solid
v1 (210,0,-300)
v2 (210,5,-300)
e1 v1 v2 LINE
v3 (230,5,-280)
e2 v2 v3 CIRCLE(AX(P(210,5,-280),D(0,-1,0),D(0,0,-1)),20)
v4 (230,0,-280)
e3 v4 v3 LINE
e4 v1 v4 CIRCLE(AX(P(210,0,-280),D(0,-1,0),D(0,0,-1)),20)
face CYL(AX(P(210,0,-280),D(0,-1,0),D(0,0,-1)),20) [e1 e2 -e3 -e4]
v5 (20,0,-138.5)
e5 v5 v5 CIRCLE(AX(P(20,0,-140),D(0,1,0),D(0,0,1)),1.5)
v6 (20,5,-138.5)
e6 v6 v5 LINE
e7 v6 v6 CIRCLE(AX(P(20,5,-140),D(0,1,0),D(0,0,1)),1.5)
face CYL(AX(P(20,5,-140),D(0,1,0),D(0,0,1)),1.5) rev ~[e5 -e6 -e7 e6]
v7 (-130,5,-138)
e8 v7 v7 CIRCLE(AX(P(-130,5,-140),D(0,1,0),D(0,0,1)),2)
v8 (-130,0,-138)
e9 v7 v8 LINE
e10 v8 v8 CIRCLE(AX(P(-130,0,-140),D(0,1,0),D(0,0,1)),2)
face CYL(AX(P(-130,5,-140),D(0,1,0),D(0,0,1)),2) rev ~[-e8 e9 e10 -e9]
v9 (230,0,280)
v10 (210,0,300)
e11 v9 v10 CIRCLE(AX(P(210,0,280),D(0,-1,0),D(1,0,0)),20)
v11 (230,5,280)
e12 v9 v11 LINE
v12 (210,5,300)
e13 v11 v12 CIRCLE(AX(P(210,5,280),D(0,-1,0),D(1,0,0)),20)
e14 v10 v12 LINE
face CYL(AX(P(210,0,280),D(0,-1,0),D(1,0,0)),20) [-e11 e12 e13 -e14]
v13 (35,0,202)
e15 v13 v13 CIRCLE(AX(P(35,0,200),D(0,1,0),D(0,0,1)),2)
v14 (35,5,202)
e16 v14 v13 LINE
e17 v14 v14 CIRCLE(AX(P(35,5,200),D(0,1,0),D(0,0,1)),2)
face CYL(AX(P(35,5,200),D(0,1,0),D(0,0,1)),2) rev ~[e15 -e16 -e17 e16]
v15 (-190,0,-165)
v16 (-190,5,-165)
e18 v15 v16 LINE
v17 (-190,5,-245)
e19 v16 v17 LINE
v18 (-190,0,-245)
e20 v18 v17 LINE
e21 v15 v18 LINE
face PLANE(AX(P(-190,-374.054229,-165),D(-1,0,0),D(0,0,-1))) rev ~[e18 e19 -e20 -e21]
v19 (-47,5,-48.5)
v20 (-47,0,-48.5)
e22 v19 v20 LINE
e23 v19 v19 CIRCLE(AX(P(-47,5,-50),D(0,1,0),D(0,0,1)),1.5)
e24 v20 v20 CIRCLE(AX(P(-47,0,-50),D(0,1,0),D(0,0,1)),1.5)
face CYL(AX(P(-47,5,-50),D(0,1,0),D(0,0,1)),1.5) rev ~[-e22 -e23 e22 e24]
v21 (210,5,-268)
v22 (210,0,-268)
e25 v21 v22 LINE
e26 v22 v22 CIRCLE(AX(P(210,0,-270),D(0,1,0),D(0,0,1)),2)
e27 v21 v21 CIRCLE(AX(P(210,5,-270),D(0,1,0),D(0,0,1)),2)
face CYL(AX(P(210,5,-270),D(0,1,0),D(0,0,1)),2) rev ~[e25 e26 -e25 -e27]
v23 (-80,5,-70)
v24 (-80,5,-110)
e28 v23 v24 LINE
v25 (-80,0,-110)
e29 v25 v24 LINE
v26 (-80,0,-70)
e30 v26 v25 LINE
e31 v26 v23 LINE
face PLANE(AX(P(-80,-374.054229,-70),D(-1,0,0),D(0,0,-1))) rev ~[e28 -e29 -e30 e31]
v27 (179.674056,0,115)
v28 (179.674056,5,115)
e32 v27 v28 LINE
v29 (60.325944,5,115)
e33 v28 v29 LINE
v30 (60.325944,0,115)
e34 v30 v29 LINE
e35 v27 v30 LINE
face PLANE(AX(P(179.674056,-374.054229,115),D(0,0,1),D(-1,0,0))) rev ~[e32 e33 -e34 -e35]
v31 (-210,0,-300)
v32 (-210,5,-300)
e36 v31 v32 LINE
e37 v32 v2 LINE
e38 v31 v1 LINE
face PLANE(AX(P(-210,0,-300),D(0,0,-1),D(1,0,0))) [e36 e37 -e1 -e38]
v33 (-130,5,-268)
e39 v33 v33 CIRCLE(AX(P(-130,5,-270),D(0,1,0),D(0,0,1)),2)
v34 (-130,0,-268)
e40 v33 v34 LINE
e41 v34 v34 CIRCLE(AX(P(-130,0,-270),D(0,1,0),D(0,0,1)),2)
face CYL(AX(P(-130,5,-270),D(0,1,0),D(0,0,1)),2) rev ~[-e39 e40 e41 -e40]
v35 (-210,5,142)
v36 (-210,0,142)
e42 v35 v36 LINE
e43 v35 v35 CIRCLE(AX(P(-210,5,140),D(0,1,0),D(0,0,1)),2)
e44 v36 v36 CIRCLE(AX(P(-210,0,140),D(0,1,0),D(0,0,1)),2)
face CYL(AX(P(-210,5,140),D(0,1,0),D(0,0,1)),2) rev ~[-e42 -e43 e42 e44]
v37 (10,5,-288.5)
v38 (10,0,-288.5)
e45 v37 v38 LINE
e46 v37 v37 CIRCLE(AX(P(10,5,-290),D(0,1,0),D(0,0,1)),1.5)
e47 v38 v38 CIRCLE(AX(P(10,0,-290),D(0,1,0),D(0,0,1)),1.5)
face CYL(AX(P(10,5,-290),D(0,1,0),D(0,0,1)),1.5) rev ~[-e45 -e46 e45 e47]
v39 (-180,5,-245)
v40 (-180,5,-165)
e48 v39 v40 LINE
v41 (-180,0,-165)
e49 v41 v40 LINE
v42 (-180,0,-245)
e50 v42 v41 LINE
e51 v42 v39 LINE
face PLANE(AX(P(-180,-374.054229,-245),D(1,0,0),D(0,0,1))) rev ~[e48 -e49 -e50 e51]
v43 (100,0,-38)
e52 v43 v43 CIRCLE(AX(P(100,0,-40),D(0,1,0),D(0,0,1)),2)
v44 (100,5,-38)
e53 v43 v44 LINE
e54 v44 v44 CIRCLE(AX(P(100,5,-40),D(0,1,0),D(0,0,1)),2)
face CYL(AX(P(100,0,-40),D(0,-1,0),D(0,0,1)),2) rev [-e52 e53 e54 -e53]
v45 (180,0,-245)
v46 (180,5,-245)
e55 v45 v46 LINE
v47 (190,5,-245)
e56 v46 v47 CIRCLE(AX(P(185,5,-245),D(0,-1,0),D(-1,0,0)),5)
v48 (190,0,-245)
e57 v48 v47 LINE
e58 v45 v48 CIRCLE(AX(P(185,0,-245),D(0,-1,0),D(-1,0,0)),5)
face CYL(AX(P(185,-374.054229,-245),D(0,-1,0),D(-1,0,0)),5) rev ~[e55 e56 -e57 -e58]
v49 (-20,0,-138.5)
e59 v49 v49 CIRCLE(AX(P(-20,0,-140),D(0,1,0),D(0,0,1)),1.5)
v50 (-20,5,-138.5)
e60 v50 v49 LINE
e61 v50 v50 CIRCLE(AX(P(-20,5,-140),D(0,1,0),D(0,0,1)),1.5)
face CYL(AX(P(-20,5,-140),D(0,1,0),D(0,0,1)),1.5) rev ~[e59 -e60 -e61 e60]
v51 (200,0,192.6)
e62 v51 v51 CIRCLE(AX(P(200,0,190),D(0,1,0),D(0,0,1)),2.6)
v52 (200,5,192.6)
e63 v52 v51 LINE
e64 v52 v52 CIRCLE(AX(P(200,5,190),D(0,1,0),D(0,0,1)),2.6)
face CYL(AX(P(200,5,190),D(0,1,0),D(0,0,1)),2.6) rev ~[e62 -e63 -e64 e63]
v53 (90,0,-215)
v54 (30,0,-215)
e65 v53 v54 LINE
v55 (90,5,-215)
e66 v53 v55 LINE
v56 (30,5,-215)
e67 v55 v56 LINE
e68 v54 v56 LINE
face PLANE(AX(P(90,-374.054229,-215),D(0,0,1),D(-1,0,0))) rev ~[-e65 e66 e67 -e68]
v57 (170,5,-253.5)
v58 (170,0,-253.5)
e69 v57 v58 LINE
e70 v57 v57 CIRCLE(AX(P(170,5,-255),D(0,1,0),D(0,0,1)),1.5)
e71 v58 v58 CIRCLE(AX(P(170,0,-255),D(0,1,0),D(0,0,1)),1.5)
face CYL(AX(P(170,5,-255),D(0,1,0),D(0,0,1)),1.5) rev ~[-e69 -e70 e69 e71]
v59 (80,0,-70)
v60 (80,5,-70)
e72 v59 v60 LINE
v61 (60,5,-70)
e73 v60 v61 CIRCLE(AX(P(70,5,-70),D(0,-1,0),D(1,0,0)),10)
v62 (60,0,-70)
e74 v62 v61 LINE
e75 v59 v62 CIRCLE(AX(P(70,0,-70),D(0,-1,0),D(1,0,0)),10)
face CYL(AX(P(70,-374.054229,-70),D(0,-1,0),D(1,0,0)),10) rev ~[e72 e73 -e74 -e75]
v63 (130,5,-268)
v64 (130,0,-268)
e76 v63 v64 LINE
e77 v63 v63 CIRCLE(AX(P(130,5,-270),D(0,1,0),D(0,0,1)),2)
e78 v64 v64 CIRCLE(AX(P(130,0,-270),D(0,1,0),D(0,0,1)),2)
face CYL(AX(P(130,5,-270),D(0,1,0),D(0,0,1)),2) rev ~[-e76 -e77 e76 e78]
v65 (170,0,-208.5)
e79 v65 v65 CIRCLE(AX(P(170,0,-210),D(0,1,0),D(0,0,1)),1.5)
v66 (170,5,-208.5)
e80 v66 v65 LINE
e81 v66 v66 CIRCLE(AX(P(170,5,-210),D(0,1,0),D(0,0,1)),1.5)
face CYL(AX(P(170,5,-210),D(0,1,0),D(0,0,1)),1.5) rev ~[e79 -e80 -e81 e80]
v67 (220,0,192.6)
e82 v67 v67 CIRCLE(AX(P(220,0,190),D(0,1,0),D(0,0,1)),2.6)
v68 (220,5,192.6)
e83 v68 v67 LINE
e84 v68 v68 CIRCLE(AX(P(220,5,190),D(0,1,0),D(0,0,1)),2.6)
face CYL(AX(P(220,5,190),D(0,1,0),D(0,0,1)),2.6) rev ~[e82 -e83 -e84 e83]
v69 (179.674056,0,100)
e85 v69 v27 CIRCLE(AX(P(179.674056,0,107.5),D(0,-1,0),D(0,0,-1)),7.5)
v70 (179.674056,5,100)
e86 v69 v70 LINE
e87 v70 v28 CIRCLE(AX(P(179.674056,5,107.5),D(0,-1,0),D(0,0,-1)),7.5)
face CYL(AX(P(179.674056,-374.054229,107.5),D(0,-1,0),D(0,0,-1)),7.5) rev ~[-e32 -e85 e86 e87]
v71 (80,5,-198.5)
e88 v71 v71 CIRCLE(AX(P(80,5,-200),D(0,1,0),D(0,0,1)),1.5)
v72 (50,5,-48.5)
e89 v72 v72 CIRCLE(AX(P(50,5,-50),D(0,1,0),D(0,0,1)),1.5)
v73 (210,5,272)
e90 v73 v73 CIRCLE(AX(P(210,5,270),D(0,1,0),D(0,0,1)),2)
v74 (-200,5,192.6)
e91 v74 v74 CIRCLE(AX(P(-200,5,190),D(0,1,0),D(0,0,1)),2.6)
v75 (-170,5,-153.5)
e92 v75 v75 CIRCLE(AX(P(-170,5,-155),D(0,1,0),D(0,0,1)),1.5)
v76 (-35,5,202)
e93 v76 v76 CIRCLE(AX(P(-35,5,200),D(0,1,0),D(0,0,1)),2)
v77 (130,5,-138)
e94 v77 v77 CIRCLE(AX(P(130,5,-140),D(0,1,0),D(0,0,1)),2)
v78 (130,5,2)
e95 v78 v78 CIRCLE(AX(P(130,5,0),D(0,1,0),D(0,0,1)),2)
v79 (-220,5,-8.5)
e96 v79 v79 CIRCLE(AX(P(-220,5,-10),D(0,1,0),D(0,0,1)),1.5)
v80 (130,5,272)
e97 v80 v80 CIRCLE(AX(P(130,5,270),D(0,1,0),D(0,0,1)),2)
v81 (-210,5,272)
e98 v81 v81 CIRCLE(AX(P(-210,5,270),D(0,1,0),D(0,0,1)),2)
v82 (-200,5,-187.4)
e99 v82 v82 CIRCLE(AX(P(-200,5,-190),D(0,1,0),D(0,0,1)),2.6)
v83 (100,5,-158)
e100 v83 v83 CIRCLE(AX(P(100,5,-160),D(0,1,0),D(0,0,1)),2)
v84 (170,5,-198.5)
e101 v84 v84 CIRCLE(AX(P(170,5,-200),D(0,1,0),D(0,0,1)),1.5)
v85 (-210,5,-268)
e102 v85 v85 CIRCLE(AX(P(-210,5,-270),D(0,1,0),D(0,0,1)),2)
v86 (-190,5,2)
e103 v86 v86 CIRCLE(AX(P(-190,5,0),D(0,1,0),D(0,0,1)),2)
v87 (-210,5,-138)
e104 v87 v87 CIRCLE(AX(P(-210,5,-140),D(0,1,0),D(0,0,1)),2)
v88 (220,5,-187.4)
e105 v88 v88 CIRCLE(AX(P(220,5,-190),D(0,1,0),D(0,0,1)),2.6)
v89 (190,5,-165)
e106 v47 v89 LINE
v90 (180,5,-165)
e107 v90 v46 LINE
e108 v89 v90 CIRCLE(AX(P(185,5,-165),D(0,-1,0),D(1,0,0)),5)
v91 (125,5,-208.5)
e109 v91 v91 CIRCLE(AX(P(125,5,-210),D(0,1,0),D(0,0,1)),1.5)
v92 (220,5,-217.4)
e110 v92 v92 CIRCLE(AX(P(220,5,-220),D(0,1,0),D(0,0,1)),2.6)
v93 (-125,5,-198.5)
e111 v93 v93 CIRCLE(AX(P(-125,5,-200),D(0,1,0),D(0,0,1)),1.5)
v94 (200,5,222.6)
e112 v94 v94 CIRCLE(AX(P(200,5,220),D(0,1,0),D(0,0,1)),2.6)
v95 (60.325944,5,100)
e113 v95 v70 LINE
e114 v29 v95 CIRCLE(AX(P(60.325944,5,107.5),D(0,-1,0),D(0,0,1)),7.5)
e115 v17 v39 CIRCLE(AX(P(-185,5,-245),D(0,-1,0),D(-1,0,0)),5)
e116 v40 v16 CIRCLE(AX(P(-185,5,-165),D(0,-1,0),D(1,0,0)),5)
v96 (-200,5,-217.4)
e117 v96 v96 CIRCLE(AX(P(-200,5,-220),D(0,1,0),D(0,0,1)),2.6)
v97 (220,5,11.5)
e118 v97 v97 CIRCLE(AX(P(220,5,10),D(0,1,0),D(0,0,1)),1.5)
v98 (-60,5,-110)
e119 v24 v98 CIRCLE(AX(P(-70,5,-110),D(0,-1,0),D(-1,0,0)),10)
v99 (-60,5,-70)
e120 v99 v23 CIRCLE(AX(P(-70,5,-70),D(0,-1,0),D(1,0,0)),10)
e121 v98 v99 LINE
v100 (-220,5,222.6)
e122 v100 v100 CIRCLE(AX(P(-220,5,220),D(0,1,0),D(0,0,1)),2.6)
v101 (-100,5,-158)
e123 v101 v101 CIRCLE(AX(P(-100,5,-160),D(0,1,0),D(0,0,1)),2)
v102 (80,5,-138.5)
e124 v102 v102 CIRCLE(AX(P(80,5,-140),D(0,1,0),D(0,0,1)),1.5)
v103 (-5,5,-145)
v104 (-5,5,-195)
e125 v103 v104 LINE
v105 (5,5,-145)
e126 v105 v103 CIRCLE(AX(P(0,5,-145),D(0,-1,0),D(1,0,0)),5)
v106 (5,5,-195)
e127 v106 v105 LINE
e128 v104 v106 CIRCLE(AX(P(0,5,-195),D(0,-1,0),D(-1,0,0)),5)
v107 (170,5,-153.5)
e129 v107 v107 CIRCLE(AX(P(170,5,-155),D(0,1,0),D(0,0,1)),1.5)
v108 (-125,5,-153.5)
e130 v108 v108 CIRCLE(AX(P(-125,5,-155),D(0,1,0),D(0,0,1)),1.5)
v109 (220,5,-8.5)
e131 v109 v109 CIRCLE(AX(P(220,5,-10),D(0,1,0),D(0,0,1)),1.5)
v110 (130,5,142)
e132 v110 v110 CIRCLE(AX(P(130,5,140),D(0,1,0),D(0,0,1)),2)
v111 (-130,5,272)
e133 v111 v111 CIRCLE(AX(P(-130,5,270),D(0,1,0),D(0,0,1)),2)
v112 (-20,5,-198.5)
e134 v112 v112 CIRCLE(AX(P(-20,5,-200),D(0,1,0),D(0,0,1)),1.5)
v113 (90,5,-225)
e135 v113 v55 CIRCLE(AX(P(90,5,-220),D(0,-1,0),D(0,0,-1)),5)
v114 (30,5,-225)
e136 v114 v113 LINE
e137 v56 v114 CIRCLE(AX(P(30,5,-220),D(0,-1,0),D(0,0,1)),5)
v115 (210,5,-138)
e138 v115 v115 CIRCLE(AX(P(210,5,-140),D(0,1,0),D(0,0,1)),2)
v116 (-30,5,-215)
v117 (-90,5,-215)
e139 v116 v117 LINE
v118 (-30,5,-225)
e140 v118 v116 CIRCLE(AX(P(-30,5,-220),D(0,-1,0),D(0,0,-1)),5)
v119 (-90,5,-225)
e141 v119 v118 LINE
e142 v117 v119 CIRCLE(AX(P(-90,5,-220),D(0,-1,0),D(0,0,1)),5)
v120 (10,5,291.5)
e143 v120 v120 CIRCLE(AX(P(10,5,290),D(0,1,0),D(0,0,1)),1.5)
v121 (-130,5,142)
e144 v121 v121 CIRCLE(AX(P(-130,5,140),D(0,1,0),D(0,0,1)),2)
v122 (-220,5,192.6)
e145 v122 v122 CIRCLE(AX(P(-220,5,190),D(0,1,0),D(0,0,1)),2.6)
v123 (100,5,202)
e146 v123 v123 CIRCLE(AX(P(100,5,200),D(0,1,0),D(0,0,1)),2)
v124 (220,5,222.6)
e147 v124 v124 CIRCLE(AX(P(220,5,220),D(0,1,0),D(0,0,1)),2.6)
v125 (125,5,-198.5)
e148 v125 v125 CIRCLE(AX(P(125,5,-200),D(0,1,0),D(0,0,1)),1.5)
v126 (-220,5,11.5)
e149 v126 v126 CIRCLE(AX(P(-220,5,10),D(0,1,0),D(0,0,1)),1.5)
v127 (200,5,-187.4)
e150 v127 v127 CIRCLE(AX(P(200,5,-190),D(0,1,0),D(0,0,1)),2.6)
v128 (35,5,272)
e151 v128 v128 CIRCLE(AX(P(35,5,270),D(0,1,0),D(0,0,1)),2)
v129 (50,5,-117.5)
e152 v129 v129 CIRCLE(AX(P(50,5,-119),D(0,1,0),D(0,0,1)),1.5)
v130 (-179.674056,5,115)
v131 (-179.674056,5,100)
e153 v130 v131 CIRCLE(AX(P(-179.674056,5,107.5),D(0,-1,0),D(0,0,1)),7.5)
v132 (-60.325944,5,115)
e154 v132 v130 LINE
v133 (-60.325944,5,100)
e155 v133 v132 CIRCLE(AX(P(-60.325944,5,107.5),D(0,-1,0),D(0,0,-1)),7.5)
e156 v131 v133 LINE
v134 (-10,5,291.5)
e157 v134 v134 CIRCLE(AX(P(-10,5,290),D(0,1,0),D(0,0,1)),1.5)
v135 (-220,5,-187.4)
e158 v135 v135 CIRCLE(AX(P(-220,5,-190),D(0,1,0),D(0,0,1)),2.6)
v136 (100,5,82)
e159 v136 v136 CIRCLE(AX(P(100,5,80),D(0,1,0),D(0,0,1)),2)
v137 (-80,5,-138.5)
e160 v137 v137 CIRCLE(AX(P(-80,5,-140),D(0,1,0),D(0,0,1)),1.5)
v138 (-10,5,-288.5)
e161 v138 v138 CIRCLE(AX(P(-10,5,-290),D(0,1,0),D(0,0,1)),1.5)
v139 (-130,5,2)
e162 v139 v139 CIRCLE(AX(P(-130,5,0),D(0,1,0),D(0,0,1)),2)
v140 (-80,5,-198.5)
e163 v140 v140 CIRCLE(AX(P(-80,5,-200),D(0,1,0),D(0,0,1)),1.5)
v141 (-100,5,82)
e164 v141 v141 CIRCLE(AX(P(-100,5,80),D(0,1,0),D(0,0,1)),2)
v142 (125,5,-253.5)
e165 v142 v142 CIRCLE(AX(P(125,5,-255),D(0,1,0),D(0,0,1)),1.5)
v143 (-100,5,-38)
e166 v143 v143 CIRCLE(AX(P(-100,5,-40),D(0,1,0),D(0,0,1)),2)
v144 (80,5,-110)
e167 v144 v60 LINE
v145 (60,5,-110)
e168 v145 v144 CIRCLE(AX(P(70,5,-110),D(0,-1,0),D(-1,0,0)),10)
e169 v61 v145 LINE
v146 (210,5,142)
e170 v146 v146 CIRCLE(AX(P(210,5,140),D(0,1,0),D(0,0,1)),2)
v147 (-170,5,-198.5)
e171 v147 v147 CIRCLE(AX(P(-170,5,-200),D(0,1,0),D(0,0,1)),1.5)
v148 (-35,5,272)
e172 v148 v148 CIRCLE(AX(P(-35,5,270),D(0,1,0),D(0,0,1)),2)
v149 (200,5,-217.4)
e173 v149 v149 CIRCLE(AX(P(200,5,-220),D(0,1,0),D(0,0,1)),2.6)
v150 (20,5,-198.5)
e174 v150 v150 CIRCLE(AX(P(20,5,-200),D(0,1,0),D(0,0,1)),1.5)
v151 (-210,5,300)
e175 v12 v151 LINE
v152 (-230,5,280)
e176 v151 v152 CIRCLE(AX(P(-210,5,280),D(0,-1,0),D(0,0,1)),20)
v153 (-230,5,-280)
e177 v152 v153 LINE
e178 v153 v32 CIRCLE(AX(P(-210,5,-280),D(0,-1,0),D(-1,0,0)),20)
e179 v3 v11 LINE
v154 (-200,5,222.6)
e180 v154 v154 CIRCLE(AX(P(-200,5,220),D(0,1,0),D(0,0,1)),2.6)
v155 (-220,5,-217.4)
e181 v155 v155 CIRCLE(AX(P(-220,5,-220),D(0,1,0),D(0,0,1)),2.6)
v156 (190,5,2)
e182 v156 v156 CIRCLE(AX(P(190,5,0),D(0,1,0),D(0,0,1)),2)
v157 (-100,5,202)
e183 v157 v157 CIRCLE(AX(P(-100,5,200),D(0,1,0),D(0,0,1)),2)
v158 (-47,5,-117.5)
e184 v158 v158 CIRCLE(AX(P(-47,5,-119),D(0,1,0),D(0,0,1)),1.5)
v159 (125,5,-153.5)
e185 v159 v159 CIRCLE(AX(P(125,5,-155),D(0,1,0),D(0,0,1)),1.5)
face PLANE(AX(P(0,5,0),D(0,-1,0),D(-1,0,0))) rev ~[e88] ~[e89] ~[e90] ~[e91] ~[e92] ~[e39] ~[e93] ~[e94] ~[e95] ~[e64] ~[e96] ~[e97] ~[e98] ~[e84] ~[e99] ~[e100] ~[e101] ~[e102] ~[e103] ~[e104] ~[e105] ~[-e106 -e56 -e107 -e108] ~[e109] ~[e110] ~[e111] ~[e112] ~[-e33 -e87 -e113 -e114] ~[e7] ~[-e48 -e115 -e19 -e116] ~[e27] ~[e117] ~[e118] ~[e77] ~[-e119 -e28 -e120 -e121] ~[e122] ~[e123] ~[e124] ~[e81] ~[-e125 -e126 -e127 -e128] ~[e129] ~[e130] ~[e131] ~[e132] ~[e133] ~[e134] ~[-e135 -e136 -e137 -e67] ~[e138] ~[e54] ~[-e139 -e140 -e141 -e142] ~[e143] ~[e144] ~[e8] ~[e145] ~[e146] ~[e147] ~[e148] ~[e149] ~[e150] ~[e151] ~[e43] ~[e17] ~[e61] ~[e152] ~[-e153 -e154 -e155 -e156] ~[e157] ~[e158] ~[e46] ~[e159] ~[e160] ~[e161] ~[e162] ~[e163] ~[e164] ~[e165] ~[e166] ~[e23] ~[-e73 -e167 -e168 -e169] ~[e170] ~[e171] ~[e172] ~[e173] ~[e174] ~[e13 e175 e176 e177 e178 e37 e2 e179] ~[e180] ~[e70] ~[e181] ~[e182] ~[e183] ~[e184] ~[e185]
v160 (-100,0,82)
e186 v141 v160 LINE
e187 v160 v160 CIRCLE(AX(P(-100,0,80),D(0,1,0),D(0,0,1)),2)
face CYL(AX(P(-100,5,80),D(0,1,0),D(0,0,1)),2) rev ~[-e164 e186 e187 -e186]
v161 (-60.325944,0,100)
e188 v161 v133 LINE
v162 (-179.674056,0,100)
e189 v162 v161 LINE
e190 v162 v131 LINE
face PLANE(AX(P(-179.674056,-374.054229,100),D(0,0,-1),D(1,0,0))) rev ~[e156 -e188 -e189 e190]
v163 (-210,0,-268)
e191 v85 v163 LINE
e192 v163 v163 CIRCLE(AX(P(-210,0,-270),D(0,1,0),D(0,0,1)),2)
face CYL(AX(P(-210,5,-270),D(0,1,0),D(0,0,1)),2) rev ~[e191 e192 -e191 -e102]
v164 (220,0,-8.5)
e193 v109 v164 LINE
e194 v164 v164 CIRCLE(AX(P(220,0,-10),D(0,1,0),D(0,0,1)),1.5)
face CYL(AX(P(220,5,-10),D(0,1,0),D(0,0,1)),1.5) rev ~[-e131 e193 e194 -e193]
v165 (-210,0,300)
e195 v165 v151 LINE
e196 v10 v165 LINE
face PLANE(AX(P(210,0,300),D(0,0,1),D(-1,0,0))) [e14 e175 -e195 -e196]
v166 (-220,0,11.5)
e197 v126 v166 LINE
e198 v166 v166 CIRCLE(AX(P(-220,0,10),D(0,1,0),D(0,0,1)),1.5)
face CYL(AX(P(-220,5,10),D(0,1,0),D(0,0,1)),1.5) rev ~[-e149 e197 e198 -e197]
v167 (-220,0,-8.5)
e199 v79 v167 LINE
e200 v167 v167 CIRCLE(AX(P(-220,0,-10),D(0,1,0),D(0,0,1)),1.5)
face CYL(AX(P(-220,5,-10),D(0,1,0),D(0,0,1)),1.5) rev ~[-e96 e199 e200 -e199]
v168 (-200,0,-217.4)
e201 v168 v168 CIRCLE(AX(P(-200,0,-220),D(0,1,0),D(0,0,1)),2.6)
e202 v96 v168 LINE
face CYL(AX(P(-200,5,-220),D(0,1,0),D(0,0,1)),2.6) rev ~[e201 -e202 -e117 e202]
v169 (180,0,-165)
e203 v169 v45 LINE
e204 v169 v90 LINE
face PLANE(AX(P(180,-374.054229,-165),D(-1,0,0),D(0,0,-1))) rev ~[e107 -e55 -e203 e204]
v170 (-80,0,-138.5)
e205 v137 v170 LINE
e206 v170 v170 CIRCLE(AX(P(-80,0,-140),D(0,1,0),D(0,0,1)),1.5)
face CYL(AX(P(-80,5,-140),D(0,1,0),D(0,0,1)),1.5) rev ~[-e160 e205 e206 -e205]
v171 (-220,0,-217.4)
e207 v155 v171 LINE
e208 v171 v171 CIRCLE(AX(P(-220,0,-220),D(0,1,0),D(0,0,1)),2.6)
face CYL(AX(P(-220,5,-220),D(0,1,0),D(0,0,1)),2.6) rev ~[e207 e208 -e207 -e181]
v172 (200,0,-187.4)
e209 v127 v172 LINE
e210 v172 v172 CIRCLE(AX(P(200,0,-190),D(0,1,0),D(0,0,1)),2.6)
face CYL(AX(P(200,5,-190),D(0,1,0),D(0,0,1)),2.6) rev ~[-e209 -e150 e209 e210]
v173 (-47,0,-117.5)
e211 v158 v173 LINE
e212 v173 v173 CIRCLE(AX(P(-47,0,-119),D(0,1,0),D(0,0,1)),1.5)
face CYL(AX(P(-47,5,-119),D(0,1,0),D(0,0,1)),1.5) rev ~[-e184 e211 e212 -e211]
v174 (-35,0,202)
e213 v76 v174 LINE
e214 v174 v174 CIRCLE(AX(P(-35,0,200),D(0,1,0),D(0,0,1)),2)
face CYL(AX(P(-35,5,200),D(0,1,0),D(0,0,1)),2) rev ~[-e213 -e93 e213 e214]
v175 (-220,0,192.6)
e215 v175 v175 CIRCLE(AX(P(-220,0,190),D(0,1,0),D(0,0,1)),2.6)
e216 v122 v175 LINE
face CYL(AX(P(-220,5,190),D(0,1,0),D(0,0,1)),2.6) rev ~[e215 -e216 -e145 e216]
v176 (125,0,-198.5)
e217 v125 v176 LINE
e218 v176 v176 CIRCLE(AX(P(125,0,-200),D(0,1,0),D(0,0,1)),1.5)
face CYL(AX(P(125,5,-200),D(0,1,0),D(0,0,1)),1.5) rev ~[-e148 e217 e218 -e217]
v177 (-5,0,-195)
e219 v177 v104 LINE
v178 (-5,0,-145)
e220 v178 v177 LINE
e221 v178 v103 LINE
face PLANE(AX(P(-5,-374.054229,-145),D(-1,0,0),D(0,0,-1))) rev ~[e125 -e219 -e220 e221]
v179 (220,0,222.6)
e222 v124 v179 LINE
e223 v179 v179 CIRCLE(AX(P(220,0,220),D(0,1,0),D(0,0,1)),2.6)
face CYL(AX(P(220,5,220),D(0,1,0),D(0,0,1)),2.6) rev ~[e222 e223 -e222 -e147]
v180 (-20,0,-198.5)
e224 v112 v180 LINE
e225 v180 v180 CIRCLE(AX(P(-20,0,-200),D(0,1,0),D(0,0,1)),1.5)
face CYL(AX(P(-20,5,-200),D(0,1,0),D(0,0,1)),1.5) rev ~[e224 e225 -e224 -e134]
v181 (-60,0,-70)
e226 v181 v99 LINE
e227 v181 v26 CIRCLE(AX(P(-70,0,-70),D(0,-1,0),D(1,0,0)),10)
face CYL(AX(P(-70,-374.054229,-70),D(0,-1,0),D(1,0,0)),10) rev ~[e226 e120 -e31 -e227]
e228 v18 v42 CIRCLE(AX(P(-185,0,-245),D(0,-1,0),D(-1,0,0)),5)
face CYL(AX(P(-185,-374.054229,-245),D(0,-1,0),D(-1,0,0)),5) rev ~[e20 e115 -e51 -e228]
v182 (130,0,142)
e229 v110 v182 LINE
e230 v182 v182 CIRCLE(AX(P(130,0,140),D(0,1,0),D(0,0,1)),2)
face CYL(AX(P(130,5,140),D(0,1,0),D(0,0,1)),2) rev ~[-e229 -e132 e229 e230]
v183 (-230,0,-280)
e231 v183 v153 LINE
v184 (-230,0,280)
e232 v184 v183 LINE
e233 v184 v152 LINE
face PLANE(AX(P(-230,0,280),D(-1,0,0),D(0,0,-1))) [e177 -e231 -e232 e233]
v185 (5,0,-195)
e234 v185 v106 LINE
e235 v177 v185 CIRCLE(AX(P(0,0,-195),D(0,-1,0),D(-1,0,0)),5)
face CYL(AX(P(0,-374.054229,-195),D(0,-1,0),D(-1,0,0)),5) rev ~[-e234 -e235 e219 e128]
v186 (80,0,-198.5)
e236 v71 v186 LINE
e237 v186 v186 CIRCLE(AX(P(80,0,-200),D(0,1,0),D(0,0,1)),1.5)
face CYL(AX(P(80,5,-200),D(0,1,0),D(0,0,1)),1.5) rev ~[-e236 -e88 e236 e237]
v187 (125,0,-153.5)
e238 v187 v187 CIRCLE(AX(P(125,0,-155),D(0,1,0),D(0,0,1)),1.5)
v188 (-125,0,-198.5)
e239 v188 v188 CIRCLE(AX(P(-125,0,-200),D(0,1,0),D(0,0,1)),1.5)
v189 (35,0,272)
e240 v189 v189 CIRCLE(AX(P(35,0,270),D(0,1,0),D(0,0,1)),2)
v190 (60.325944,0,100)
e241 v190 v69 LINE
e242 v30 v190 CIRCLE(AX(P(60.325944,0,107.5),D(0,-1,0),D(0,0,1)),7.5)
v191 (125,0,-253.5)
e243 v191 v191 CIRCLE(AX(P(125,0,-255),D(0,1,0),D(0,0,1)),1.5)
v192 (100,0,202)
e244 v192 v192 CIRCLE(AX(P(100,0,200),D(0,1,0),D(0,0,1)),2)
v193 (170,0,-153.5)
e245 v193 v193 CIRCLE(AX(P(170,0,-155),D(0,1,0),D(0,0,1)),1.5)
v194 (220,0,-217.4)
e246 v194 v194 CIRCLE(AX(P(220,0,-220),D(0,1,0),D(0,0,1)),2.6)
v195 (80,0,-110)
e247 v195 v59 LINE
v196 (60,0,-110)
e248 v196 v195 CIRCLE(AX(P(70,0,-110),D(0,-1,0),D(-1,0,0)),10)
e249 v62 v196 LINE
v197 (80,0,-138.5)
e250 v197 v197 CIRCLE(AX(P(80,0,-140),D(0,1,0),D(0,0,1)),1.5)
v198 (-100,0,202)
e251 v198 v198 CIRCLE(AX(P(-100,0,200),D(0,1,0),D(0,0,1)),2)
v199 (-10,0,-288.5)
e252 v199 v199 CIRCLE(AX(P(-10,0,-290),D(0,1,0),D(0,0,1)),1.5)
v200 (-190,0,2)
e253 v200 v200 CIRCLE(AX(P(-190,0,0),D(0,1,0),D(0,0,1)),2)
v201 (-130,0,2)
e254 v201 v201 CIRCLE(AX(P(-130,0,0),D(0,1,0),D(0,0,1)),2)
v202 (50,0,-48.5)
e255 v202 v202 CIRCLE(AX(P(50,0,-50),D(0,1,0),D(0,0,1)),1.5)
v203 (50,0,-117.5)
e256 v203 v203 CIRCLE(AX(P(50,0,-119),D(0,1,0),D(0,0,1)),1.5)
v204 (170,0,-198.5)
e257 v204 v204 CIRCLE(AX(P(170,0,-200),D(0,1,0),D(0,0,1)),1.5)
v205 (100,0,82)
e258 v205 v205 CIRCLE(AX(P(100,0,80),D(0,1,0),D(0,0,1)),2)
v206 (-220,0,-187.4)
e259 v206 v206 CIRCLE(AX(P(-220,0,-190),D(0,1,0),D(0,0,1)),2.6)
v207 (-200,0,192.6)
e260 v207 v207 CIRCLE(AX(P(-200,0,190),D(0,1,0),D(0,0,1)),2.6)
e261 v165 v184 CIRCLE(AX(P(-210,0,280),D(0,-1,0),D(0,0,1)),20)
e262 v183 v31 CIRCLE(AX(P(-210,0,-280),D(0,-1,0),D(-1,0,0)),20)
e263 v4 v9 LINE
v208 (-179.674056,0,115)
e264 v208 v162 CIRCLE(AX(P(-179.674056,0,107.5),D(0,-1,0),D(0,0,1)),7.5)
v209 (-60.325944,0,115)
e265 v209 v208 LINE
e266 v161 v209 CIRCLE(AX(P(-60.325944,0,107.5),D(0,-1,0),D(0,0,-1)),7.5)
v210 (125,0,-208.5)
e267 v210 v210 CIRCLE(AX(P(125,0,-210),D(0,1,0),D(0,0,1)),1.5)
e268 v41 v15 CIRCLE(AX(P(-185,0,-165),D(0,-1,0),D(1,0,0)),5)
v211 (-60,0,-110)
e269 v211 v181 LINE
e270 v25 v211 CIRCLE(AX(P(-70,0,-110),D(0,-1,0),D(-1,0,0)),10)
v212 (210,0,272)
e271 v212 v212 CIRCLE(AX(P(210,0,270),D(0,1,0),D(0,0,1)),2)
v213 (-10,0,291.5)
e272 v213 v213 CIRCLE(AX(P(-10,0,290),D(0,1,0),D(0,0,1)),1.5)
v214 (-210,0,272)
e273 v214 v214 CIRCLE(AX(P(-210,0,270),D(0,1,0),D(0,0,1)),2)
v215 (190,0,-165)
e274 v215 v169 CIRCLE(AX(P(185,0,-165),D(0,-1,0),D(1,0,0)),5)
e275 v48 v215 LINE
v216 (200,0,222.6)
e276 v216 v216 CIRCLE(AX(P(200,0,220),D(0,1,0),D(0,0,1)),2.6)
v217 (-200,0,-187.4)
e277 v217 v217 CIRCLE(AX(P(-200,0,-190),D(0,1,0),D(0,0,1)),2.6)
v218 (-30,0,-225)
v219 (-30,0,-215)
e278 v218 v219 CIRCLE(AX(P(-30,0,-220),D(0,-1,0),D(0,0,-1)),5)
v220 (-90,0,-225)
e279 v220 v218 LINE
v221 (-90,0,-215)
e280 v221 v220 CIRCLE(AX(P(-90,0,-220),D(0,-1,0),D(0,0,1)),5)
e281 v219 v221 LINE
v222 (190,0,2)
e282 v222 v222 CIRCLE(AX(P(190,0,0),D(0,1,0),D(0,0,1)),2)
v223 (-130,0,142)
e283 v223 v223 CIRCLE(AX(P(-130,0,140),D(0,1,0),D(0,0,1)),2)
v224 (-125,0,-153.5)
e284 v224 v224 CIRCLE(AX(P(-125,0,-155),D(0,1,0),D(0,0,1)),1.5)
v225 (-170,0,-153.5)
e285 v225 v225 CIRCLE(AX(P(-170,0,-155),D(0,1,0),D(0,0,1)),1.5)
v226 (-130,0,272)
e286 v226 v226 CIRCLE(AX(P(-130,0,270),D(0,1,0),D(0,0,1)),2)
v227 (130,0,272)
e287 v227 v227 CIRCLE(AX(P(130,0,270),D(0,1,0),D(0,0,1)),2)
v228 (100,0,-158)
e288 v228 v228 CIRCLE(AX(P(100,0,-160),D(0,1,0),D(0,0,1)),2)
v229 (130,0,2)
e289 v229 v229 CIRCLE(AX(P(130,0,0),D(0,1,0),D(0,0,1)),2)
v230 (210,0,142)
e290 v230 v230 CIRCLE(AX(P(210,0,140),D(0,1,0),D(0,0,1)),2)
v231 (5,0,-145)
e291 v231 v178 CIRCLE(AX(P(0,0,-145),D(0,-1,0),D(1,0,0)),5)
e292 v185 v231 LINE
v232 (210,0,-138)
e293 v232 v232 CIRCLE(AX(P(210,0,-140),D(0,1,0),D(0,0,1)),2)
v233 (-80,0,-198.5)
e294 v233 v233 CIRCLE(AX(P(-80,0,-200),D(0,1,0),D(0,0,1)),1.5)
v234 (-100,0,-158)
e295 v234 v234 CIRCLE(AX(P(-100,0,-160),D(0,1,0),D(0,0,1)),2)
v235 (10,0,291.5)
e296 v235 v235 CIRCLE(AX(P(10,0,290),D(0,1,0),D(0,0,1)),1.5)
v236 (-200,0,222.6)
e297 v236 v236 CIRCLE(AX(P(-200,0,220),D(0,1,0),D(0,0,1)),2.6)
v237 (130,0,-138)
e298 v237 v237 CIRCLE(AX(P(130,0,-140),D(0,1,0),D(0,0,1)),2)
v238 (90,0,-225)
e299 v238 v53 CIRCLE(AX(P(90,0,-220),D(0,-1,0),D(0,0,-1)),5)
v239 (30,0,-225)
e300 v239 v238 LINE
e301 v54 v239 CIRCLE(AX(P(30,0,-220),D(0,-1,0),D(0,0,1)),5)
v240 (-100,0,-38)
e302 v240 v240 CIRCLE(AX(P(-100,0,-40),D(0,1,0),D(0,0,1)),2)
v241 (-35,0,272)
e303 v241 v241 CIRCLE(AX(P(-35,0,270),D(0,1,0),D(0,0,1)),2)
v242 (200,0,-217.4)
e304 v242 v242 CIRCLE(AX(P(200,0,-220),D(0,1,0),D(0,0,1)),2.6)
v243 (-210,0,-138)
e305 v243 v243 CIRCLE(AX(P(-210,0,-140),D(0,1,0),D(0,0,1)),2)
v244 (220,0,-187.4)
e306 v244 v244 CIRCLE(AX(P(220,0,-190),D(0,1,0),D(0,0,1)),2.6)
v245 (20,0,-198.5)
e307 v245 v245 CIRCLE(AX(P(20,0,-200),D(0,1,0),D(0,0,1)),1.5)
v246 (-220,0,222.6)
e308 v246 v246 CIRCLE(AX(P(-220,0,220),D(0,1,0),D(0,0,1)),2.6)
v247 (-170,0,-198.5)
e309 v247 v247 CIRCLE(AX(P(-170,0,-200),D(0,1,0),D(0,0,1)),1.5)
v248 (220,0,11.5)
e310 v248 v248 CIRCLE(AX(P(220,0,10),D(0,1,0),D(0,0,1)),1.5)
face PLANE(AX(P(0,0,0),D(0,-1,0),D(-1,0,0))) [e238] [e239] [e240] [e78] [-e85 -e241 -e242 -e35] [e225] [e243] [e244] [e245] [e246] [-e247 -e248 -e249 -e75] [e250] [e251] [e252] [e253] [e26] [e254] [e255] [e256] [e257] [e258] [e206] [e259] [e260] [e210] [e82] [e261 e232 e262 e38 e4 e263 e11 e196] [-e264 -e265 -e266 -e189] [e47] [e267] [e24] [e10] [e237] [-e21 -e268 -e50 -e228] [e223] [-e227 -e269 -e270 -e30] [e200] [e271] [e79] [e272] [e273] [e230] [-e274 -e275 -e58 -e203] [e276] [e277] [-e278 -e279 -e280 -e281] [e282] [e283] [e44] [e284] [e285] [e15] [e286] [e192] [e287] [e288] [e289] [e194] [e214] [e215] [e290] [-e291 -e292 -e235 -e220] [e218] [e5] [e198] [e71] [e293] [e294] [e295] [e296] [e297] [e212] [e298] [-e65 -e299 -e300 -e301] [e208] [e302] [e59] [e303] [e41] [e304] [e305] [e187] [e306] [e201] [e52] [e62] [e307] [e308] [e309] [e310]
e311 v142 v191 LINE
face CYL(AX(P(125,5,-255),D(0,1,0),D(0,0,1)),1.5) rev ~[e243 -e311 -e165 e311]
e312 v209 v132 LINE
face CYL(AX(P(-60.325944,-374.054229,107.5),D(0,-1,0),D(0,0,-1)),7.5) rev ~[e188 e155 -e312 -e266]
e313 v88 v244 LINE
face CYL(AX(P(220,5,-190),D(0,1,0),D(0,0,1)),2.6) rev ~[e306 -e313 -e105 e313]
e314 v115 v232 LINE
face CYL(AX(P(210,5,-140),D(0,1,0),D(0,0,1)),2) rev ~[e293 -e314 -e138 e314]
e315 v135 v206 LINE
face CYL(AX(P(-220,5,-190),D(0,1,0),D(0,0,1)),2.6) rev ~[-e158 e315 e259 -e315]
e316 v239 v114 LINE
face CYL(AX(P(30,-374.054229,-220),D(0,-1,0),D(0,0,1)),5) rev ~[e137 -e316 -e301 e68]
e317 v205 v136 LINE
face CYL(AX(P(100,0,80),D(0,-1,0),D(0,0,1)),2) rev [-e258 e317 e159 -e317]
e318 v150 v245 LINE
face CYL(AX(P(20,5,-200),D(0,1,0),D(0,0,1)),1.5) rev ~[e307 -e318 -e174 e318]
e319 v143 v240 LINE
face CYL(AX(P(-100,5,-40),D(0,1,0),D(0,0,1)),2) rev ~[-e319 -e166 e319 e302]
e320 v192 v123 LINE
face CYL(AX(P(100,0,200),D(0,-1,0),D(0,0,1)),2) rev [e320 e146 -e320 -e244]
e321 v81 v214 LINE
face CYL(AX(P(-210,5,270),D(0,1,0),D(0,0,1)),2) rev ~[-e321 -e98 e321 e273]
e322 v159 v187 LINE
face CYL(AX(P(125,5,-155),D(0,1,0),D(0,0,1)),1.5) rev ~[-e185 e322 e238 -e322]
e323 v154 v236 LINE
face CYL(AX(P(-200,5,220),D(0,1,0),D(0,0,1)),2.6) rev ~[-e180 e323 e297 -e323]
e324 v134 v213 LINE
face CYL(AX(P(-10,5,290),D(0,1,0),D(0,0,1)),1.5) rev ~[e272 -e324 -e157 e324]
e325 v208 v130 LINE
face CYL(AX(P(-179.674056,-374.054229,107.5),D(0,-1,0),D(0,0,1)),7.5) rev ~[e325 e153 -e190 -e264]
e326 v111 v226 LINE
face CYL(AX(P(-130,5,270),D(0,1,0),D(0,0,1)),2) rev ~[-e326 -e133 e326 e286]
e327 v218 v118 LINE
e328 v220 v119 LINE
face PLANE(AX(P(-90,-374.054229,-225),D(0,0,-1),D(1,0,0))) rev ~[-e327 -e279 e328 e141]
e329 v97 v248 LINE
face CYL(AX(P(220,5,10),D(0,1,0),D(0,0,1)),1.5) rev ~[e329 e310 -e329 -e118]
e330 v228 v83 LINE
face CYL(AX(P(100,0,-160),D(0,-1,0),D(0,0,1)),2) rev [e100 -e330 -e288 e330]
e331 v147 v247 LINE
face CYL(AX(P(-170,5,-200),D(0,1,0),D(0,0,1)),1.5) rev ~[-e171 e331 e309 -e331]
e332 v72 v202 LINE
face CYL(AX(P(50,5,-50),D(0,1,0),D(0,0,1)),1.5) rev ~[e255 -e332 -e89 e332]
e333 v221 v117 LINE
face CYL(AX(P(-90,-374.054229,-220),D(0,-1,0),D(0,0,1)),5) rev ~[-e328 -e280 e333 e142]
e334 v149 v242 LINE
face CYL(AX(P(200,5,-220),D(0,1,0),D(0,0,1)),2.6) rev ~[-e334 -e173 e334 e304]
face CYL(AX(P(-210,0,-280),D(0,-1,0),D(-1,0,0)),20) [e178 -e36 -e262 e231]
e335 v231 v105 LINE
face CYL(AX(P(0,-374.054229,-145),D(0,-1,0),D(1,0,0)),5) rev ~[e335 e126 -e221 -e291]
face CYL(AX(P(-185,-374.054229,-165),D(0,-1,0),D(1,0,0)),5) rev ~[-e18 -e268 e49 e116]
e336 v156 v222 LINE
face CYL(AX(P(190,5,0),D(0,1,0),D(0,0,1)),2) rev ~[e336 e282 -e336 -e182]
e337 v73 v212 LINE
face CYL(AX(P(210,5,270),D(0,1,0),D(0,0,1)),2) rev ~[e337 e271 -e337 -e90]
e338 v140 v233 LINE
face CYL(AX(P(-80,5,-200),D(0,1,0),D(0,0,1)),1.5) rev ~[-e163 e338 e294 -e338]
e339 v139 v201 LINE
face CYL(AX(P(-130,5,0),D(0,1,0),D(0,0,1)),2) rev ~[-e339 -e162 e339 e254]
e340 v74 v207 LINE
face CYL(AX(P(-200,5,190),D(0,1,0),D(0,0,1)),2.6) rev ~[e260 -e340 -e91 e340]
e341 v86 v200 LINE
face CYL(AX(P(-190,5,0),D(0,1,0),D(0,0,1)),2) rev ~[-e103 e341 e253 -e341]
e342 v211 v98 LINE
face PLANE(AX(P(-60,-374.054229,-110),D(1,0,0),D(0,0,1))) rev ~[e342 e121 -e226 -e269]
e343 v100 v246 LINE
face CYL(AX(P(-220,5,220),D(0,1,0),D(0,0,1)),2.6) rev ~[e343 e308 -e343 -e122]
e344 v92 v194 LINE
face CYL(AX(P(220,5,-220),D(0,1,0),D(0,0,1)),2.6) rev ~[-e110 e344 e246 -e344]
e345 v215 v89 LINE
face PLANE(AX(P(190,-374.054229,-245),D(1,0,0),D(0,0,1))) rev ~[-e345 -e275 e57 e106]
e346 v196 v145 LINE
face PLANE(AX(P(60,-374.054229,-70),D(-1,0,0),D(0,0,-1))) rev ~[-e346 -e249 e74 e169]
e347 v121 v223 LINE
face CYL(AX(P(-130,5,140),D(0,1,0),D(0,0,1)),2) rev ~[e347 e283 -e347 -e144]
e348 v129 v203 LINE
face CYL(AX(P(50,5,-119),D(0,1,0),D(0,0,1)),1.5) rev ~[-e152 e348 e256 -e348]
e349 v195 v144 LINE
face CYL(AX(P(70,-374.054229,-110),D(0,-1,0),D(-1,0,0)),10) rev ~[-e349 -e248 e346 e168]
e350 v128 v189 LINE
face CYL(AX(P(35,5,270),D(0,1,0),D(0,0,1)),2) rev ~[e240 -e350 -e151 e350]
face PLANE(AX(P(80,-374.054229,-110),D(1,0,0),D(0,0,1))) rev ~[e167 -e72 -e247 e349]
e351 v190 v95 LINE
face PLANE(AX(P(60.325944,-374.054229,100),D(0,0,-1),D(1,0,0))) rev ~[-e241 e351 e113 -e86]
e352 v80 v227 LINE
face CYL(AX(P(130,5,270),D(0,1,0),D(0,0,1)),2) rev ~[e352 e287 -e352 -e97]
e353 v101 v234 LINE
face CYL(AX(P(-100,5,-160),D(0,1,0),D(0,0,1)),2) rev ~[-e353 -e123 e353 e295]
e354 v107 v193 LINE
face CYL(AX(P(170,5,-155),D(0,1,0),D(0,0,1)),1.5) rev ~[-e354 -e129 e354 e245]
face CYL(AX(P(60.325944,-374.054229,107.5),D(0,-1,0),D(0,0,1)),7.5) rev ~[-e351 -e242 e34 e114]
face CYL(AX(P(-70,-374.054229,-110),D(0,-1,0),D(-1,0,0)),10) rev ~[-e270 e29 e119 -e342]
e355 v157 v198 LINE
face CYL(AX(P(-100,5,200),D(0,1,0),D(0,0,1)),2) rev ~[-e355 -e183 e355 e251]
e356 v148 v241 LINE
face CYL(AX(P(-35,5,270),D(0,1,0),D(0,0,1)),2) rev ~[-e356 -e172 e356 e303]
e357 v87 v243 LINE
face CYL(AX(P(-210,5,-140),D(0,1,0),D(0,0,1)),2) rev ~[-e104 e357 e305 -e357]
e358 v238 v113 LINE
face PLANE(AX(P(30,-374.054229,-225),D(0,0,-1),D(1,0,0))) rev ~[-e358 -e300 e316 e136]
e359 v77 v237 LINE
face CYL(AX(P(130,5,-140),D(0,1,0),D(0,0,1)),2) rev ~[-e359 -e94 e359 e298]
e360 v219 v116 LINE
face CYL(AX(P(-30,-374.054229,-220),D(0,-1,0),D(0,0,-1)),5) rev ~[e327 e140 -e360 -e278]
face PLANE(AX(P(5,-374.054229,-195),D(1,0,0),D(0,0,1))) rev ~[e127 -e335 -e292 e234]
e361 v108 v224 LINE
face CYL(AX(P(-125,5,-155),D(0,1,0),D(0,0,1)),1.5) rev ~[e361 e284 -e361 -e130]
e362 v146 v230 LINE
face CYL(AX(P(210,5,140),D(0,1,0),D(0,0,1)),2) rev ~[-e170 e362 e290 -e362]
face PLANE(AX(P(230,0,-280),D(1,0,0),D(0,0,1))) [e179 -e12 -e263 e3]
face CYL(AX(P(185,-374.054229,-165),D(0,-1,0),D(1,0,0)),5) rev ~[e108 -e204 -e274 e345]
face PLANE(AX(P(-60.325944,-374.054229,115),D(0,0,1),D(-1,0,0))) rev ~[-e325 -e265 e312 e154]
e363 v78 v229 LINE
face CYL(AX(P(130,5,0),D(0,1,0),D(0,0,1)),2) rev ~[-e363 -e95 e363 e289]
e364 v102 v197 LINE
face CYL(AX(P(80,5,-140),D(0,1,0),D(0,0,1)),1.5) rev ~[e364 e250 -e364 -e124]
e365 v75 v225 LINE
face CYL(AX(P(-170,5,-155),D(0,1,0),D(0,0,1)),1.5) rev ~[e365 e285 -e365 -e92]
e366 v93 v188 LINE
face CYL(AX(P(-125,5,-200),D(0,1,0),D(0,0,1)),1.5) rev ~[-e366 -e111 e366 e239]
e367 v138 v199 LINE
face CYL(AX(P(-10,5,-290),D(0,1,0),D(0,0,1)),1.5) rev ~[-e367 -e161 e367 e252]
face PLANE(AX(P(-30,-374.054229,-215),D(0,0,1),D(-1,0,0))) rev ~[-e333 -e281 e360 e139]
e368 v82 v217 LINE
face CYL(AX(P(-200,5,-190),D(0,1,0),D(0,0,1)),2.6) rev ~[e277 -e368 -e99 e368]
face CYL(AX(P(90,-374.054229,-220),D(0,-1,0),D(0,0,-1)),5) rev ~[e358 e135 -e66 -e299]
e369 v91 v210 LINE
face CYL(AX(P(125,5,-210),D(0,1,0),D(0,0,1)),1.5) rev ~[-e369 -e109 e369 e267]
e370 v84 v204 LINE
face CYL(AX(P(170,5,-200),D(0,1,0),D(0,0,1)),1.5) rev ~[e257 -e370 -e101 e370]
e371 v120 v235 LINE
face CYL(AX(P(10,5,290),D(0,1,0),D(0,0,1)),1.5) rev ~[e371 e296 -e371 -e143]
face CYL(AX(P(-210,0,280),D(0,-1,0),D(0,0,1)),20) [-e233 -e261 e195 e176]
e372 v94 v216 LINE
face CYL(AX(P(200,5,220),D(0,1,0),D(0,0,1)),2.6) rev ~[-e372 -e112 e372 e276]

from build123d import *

# Parameters (mm, degrees)
SKETCH_1_R                  = 2
EXTRUDE_378_DEPTH           = 5
SKETCH_2_R                  = 1.5
CUT_EXTRUDE_688_DEPTH       = 379.054228914
SKETCH_3_R                  = 2
CUT_EXTRUDE_1154_DEPTH      = 379.054228914
SKETCH_4_R                  = 2
CUT_EXTRUDE_1585_DEPTH      = 379.054228914
SKETCH_5_R                  = 2.6
CUT_EXTRUDE_2269_DEPTH      = 379.054228914
SKETCH_6_R                  = 2
CUT_EXTRUDE_2401_DEPTH      = 379.054228914
SKETCH_7_R                  = 1.5
CUT_EXTRUDE_2533_DEPTH      = 379.054228914
SKETCH_8_R                  = 1.5
CUT_EXTRUDE_2719_DEPTH      = 379.054228914
SKETCH_9_R                  = 1.5
CUT_EXTRUDE_2956_DEPTH      = 379.054228914
CUT_EXTRUDE_3566_DEPTH      = 379.054228914
CUT_EXTRUDE_3566_DEPTH_BACK = 379.054228914
SKETCH_11_R                 = 2
CUT_EXTRUDE_3701_DEPTH      = 379.054228914


with BuildPart() as part:
    # 草图1 → Extrude 378 (new body)
    with BuildSketch(Plane(origin=(0, 0, 0), x_dir=(1, 0, 0), z_dir=(0, 1, 0))):
        with BuildLine():
            Line((210, -300), (-210, -300))
            ThreePointArc((-210, -300), (-224.142135624, -294.142135624), (-230, -280))
            Line((-230, -280), (-230, 280))
            ThreePointArc((-230, 280), (-224.142135624, 294.142135624), (-210, 300))
            Line((-210, 300), (210, 300))
            ThreePointArc((210, 300), (224.142135624, 294.142135624), (230, 280))
            Line((230, 280), (230, -280))
            ThreePointArc((230, -280), (224.142135624, -294.142135624), (210, -300))
        make_face()
        with Locations(Location((100, -200, 0), (0, 0, 270))):
            Circle(SKETCH_1_R, mode=Mode.SUBTRACT)
        with Locations(Location((100, -80, 0), (0, 0, 270))):
            Circle(SKETCH_1_R, mode=Mode.SUBTRACT)
        with Locations(Location((100, 40, 0), (0, 0, 270))):
            Circle(SKETCH_1_R, mode=Mode.SUBTRACT)
        with Locations(Location((100, 160, 0), (0, 0, 270))):
            Circle(SKETCH_1_R, mode=Mode.SUBTRACT)
    extrude(amount=EXTRUDE_378_DEPTH)

    # 草图2 → Cut-Extrude 688 (cut, through all)
    with BuildSketch(Plane(origin=(0, 5, 0), x_dir=(1, 0, 0), z_dir=(0, 1, 0))):
        with Locations(Location((10, 290, 0), (0, 0, 270))):
            Circle(SKETCH_2_R)
        with Locations(Location((-10, 290, 0), (0, 0, 270))):
            Circle(SKETCH_2_R)
        with Locations(Location((-10, -290, 0), (0, 0, 270))):
            Circle(SKETCH_2_R)
        with Locations(Location((10, -290, 0), (0, 0, 270))):
            Circle(SKETCH_2_R)
        with Locations(Location((-220, 10, 0), (0, 0, 270))):
            Circle(SKETCH_2_R)
        with Locations(Location((-220, -10, 0), (0, 0, 270))):
            Circle(SKETCH_2_R)
        with Locations(Location((220, 10, 0), (0, 0, 270))):
            Circle(SKETCH_2_R)
        with Locations(Location((220, -10, 0), (0, 0, 270))):
            Circle(SKETCH_2_R)
    extrude(amount=-CUT_EXTRUDE_688_DEPTH, mode=Mode.SUBTRACT)

    # 草图3 → Cut-Extrude 1154 (cut, through all)
    with BuildSketch(Plane(origin=(0, 5, 0), x_dir=(1, 0, 0), z_dir=(0, 1, 0))):
        with Locations(Location((-210, 270, 0), (0, 0, 270))):
            Circle(SKETCH_3_R)
        with Locations(Location((-130, 270, 0), (0, 0, 270))):
            Circle(SKETCH_3_R)
        with Locations(Location((-210, 140, 0), (0, 0, 270))):
            Circle(SKETCH_3_R)
        with Locations(Location((-130, 140, 0), (0, 0, 270))):
            Circle(SKETCH_3_R)
        with Locations(Location((130, 270, 0), (0, 0, 270))):
            Circle(SKETCH_3_R)
        with Locations(Location((210, 270, 0), (0, 0, 270))):
            Circle(SKETCH_3_R)
        with Locations(Location((130, 140, 0), (0, 0, 270))):
            Circle(SKETCH_3_R)
        with Locations(Location((210, 140, 0), (0, 0, 270))):
            Circle(SKETCH_3_R)
        with Locations(Location((-210, -140, 0), (0, 0, 270))):
            Circle(SKETCH_3_R)
        with Locations(Location((-130, -140, 0), (0, 0, 270))):
            Circle(SKETCH_3_R)
        with Locations(Location((-210, -270, 0), (0, 0, 270))):
            Circle(SKETCH_3_R)
        with Locations(Location((-130, -270, 0), (0, 0, 270))):
            Circle(SKETCH_3_R)
        with Locations(Location((130, -140, 0), (0, 0, 270))):
            Circle(SKETCH_3_R)
        with Locations(Location((210, -140, 0), (0, 0, 270))):
            Circle(SKETCH_3_R)
        with Locations(Location((130, -270, 0), (0, 0, 270))):
            Circle(SKETCH_3_R)
        with Locations(Location((210, -270, 0), (0, 0, 270))):
            Circle(SKETCH_3_R)
    extrude(amount=-CUT_EXTRUDE_1154_DEPTH, mode=Mode.SUBTRACT)

    # 草图4 → Cut-Extrude 1585 (cut, through all)
    with BuildSketch(Plane(origin=(0, 5, 0), x_dir=(1, 0, 0), z_dir=(0, 1, 0))):
        with Locations(Location((-100, -200, 0), (0, 0, 270))):
            Circle(SKETCH_4_R)
        with Locations(Location((-100, -80, 0), (0, 0, 270))):
            Circle(SKETCH_4_R)
        with Locations(Location((-100, 40, 0), (0, 0, 270))):
            Circle(SKETCH_4_R)
        with Locations(Location((-100, 160, 0), (0, 0, 270))):
            Circle(SKETCH_4_R)
    extrude(amount=-CUT_EXTRUDE_1585_DEPTH, mode=Mode.SUBTRACT)

    # 草图5 → Cut-Extrude 2269 (cut, through all)
    with BuildSketch(Plane(origin=(0, 5, 0), x_dir=(1, 0, 0), z_dir=(0, 1, 0))):
        with Locations(Location((220, -220, 0), (0, 0, 270))):
            Circle(SKETCH_5_R)
        with Locations(Location((200, -220, 0), (0, 0, 270))):
            Circle(SKETCH_5_R)
        with Locations(Location((220, -190, 0), (0, 0, 270))):
            Circle(SKETCH_5_R)
        with Locations(Location((200, -190, 0), (0, 0, 270))):
            Circle(SKETCH_5_R)
        with Locations(Location((-200, -220, 0), (0, 0, 270))):
            Circle(SKETCH_5_R)
        with Locations(Location((-220, -220, 0), (0, 0, 270))):
            Circle(SKETCH_5_R)
        with Locations(Location((-200, -190, 0), (0, 0, 270))):
            Circle(SKETCH_5_R)
        with Locations(Location((-220, -190, 0), (0, 0, 270))):
            Circle(SKETCH_5_R)
        with Locations(Location((200, 190, 0), (0, 0, 270))):
            Circle(SKETCH_5_R)
        with Locations(Location((220, 190, 0), (0, 0, 270))):
            Circle(SKETCH_5_R)
        with Locations(Location((200, 220, 0), (0, 0, 270))):
            Circle(SKETCH_5_R)
        with Locations(Location((220, 220, 0), (0, 0, 270))):
            Circle(SKETCH_5_R)
        with Locations(Location((-200, 190, 0), (0, 0, 270))):
            Circle(SKETCH_5_R)
        with Locations(Location((-220, 190, 0), (0, 0, 270))):
            Circle(SKETCH_5_R)
        with Locations(Location((-200, 220, 0), (0, 0, 270))):
            Circle(SKETCH_5_R)
        with Locations(Location((-220, 220, 0), (0, 0, 270))):
            Circle(SKETCH_5_R)
    extrude(amount=-CUT_EXTRUDE_2269_DEPTH, mode=Mode.SUBTRACT)

    # 草图6 → Cut-Extrude 2401 (cut, through all)
    with BuildSketch(Plane(origin=(0, 5, 0), x_dir=(1, 0, 0), z_dir=(0, 1, 0))):
        with Locations(Location((-35, -270, 0), (0, 0, 270))):
            Circle(SKETCH_6_R)
        with Locations(Location((35, -270, 0), (0, 0, 270))):
            Circle(SKETCH_6_R)
        with Locations(Location((35, -200, 0), (0, 0, 270))):
            Circle(SKETCH_6_R)
        with Locations(Location((-35, -200, 0), (0, 0, 270))):
            Circle(SKETCH_6_R)
    extrude(amount=-CUT_EXTRUDE_2401_DEPTH, mode=Mode.SUBTRACT)

    # 草图7 → Cut-Extrude 2533 (cut, through all)
    with BuildSketch(Plane(origin=(0, 5, 0), x_dir=(1, 0, 0), z_dir=(0, 1, 0))):
        with Locations(Location((50, 50, 0), (0, 0, 270))):
            Circle(SKETCH_7_R)
        with Locations(Location((-47, 50, 0), (0, 0, 270))):
            Circle(SKETCH_7_R)
        with Locations(Location((50, 119, 0), (0, 0, 270))):
            Circle(SKETCH_7_R)
        with Locations(Location((-47, 119, 0), (0, 0, 270))):
            Circle(SKETCH_7_R)
    extrude(amount=-CUT_EXTRUDE_2533_DEPTH, mode=Mode.SUBTRACT)

    # 草图8 → Cut-Extrude 2719 (cut, through all)
    with BuildSketch(Plane(origin=(0, 5, 0), x_dir=(1, 0, 0), z_dir=(0, 1, 0))):
        with Locations(Location((80, 140, 0), (0, 0, 270))):
            Circle(SKETCH_8_R)
        with Locations(Location((20, 140, 0), (0, 0, 270))):
            Circle(SKETCH_8_R)
        with Locations(Location((80, 200, 0), (0, 0, 270))):
            Circle(SKETCH_8_R)
        with Locations(Location((20, 200, 0), (0, 0, 270))):
            Circle(SKETCH_8_R)
        with Locations(Location((-20, 140, 0), (0, 0, 270))):
            Circle(SKETCH_8_R)
        with Locations(Location((-80, 140, 0), (0, 0, 270))):
            Circle(SKETCH_8_R)
        with Locations(Location((-20, 200, 0), (0, 0, 270))):
            Circle(SKETCH_8_R)
        with Locations(Location((-80, 200, 0), (0, 0, 270))):
            Circle(SKETCH_8_R)
    extrude(amount=-CUT_EXTRUDE_2719_DEPTH, mode=Mode.SUBTRACT)

    # 草图9 → Cut-Extrude 2956 (cut, through all)
    with BuildSketch(Plane(origin=(0, 5, 0), x_dir=(1, 0, 0), z_dir=(0, 1, 0))):
        with Locations(Location((170, 155, 0), (0, 0, 270))):
            Circle(SKETCH_9_R)
        with Locations(Location((125, 155, 0), (0, 0, 270))):
            Circle(SKETCH_9_R)
        with Locations(Location((125, 200, 0), (0, 0, 270))):
            Circle(SKETCH_9_R)
        with Locations(Location((170, 200, 0), (0, 0, 270))):
            Circle(SKETCH_9_R)
        with Locations(Location((170, 210, 0), (0, 0, 270))):
            Circle(SKETCH_9_R)
        with Locations(Location((170, 255, 0), (0, 0, 270))):
            Circle(SKETCH_9_R)
        with Locations(Location((125, 210, 0), (0, 0, 270))):
            Circle(SKETCH_9_R)
        with Locations(Location((125, 255, 0), (0, 0, 270))):
            Circle(SKETCH_9_R)
        with Locations(Location((-125, 155, 0), (0, 0, 270))):
            Circle(SKETCH_9_R)
        with Locations(Location((-170, 155, 0), (0, 0, 270))):
            Circle(SKETCH_9_R)
        with Locations(Location((-125, 200, 0), (0, 0, 270))):
            Circle(SKETCH_9_R)
        with Locations(Location((-170, 200, 0), (0, 0, 270))):
            Circle(SKETCH_9_R)
    extrude(amount=-CUT_EXTRUDE_2956_DEPTH, mode=Mode.SUBTRACT)

    # 草图10 → Cut-Extrude 3566 (cut, two sides: drawn at the far end of the back side and taken through both)
    with BuildSketch(Plane(origin=(0, 5, 0), x_dir=(1, 0, 0), z_dir=(0, 1, 0)).offset(-CUT_EXTRUDE_3566_DEPTH_BACK)):
        with BuildLine():
            Line((180, 165), (180, 245))
            ThreePointArc((180, 245), (185, 250), (190, 245))
            Line((190, 245), (190, 165))
            ThreePointArc((190, 165), (185, 160), (180, 165))
        make_face()
        with BuildLine():
            Line((-5, 145), (-5, 195))
            ThreePointArc((-5, 195), (0, 200), (5, 195))
            Line((5, 195), (5, 145))
            ThreePointArc((5, 145), (0, 140), (-5, 145))
        make_face()
        with BuildLine():
            Line((60, 70), (60, 110))
            ThreePointArc((60, 110), (70, 120), (80, 110))
            Line((80, 110), (80, 70))
            ThreePointArc((80, 70), (70, 60), (60, 70))
        make_face()
        with BuildLine():
            Line((-80, 70), (-80, 110))
            ThreePointArc((-80, 110), (-70, 120), (-60, 110))
            Line((-60, 110), (-60, 70))
            ThreePointArc((-60, 70), (-70, 60), (-80, 70))
        make_face()
        with BuildLine():
            Line((90, 215), (30, 215))
            ThreePointArc((30, 215), (25, 220), (30, 225))
            Line((30, 225), (90, 225))
            ThreePointArc((90, 225), (95, 220), (90, 215))
        make_face()
        with BuildLine():
            Line((-30, 215), (-90, 215))
            ThreePointArc((-90, 215), (-95, 220), (-90, 225))
            Line((-90, 225), (-30, 225))
            ThreePointArc((-30, 225), (-25, 220), (-30, 215))
        make_face()
        with BuildLine():
            Line((-190, 165), (-190, 245))
            ThreePointArc((-190, 245), (-185, 250), (-180, 245))
            Line((-180, 245), (-180, 165))
            ThreePointArc((-180, 165), (-185, 160), (-190, 165))
        make_face()
        with BuildLine():
            Line((179.6740558, -115), (60.3259442, -115))
            ThreePointArc((60.3259442, -115), (52.8259442, -107.5), (60.3259442, -100))
            Line((60.3259442, -100), (179.6740558, -100))
            ThreePointArc((179.6740558, -100), (187.1740558, -107.5), (179.6740558, -115))
        make_face()
        with BuildLine():
            Line((-60.3259442, -115), (-179.6740558, -115))
            ThreePointArc((-179.6740558, -115), (-187.1740558, -107.5), (-179.6740558, -100))
            Line((-179.6740558, -100), (-60.3259442, -100))
            ThreePointArc((-60.3259442, -100), (-52.8259442, -107.5), (-60.3259442, -115))
        make_face()
    extrude(amount=CUT_EXTRUDE_3566_DEPTH + CUT_EXTRUDE_3566_DEPTH_BACK, mode=Mode.SUBTRACT)

    # 草图11 → Cut-Extrude 3701 (cut, through all)
    with BuildSketch(Plane(origin=(0, 5, 0), x_dir=(1, 0, 0), z_dir=(0, 1, 0))):
        with Locations(Location((130, 0, 0), (0, 0, 270))):
            Circle(SKETCH_11_R)
        with Locations(Location((190, 0, 0), (0, 0, 270))):
            Circle(SKETCH_11_R)
        with Locations(Location((-130, 0, 0), (0, 0, 270))):
            Circle(SKETCH_11_R)
        with Locations(Location((-190, 0, 0), (0, 0, 270))):
            Circle(SKETCH_11_R)
    extrude(amount=-CUT_EXTRUDE_3701_DEPTH, mode=Mode.SUBTRACT)


solid = part.part
